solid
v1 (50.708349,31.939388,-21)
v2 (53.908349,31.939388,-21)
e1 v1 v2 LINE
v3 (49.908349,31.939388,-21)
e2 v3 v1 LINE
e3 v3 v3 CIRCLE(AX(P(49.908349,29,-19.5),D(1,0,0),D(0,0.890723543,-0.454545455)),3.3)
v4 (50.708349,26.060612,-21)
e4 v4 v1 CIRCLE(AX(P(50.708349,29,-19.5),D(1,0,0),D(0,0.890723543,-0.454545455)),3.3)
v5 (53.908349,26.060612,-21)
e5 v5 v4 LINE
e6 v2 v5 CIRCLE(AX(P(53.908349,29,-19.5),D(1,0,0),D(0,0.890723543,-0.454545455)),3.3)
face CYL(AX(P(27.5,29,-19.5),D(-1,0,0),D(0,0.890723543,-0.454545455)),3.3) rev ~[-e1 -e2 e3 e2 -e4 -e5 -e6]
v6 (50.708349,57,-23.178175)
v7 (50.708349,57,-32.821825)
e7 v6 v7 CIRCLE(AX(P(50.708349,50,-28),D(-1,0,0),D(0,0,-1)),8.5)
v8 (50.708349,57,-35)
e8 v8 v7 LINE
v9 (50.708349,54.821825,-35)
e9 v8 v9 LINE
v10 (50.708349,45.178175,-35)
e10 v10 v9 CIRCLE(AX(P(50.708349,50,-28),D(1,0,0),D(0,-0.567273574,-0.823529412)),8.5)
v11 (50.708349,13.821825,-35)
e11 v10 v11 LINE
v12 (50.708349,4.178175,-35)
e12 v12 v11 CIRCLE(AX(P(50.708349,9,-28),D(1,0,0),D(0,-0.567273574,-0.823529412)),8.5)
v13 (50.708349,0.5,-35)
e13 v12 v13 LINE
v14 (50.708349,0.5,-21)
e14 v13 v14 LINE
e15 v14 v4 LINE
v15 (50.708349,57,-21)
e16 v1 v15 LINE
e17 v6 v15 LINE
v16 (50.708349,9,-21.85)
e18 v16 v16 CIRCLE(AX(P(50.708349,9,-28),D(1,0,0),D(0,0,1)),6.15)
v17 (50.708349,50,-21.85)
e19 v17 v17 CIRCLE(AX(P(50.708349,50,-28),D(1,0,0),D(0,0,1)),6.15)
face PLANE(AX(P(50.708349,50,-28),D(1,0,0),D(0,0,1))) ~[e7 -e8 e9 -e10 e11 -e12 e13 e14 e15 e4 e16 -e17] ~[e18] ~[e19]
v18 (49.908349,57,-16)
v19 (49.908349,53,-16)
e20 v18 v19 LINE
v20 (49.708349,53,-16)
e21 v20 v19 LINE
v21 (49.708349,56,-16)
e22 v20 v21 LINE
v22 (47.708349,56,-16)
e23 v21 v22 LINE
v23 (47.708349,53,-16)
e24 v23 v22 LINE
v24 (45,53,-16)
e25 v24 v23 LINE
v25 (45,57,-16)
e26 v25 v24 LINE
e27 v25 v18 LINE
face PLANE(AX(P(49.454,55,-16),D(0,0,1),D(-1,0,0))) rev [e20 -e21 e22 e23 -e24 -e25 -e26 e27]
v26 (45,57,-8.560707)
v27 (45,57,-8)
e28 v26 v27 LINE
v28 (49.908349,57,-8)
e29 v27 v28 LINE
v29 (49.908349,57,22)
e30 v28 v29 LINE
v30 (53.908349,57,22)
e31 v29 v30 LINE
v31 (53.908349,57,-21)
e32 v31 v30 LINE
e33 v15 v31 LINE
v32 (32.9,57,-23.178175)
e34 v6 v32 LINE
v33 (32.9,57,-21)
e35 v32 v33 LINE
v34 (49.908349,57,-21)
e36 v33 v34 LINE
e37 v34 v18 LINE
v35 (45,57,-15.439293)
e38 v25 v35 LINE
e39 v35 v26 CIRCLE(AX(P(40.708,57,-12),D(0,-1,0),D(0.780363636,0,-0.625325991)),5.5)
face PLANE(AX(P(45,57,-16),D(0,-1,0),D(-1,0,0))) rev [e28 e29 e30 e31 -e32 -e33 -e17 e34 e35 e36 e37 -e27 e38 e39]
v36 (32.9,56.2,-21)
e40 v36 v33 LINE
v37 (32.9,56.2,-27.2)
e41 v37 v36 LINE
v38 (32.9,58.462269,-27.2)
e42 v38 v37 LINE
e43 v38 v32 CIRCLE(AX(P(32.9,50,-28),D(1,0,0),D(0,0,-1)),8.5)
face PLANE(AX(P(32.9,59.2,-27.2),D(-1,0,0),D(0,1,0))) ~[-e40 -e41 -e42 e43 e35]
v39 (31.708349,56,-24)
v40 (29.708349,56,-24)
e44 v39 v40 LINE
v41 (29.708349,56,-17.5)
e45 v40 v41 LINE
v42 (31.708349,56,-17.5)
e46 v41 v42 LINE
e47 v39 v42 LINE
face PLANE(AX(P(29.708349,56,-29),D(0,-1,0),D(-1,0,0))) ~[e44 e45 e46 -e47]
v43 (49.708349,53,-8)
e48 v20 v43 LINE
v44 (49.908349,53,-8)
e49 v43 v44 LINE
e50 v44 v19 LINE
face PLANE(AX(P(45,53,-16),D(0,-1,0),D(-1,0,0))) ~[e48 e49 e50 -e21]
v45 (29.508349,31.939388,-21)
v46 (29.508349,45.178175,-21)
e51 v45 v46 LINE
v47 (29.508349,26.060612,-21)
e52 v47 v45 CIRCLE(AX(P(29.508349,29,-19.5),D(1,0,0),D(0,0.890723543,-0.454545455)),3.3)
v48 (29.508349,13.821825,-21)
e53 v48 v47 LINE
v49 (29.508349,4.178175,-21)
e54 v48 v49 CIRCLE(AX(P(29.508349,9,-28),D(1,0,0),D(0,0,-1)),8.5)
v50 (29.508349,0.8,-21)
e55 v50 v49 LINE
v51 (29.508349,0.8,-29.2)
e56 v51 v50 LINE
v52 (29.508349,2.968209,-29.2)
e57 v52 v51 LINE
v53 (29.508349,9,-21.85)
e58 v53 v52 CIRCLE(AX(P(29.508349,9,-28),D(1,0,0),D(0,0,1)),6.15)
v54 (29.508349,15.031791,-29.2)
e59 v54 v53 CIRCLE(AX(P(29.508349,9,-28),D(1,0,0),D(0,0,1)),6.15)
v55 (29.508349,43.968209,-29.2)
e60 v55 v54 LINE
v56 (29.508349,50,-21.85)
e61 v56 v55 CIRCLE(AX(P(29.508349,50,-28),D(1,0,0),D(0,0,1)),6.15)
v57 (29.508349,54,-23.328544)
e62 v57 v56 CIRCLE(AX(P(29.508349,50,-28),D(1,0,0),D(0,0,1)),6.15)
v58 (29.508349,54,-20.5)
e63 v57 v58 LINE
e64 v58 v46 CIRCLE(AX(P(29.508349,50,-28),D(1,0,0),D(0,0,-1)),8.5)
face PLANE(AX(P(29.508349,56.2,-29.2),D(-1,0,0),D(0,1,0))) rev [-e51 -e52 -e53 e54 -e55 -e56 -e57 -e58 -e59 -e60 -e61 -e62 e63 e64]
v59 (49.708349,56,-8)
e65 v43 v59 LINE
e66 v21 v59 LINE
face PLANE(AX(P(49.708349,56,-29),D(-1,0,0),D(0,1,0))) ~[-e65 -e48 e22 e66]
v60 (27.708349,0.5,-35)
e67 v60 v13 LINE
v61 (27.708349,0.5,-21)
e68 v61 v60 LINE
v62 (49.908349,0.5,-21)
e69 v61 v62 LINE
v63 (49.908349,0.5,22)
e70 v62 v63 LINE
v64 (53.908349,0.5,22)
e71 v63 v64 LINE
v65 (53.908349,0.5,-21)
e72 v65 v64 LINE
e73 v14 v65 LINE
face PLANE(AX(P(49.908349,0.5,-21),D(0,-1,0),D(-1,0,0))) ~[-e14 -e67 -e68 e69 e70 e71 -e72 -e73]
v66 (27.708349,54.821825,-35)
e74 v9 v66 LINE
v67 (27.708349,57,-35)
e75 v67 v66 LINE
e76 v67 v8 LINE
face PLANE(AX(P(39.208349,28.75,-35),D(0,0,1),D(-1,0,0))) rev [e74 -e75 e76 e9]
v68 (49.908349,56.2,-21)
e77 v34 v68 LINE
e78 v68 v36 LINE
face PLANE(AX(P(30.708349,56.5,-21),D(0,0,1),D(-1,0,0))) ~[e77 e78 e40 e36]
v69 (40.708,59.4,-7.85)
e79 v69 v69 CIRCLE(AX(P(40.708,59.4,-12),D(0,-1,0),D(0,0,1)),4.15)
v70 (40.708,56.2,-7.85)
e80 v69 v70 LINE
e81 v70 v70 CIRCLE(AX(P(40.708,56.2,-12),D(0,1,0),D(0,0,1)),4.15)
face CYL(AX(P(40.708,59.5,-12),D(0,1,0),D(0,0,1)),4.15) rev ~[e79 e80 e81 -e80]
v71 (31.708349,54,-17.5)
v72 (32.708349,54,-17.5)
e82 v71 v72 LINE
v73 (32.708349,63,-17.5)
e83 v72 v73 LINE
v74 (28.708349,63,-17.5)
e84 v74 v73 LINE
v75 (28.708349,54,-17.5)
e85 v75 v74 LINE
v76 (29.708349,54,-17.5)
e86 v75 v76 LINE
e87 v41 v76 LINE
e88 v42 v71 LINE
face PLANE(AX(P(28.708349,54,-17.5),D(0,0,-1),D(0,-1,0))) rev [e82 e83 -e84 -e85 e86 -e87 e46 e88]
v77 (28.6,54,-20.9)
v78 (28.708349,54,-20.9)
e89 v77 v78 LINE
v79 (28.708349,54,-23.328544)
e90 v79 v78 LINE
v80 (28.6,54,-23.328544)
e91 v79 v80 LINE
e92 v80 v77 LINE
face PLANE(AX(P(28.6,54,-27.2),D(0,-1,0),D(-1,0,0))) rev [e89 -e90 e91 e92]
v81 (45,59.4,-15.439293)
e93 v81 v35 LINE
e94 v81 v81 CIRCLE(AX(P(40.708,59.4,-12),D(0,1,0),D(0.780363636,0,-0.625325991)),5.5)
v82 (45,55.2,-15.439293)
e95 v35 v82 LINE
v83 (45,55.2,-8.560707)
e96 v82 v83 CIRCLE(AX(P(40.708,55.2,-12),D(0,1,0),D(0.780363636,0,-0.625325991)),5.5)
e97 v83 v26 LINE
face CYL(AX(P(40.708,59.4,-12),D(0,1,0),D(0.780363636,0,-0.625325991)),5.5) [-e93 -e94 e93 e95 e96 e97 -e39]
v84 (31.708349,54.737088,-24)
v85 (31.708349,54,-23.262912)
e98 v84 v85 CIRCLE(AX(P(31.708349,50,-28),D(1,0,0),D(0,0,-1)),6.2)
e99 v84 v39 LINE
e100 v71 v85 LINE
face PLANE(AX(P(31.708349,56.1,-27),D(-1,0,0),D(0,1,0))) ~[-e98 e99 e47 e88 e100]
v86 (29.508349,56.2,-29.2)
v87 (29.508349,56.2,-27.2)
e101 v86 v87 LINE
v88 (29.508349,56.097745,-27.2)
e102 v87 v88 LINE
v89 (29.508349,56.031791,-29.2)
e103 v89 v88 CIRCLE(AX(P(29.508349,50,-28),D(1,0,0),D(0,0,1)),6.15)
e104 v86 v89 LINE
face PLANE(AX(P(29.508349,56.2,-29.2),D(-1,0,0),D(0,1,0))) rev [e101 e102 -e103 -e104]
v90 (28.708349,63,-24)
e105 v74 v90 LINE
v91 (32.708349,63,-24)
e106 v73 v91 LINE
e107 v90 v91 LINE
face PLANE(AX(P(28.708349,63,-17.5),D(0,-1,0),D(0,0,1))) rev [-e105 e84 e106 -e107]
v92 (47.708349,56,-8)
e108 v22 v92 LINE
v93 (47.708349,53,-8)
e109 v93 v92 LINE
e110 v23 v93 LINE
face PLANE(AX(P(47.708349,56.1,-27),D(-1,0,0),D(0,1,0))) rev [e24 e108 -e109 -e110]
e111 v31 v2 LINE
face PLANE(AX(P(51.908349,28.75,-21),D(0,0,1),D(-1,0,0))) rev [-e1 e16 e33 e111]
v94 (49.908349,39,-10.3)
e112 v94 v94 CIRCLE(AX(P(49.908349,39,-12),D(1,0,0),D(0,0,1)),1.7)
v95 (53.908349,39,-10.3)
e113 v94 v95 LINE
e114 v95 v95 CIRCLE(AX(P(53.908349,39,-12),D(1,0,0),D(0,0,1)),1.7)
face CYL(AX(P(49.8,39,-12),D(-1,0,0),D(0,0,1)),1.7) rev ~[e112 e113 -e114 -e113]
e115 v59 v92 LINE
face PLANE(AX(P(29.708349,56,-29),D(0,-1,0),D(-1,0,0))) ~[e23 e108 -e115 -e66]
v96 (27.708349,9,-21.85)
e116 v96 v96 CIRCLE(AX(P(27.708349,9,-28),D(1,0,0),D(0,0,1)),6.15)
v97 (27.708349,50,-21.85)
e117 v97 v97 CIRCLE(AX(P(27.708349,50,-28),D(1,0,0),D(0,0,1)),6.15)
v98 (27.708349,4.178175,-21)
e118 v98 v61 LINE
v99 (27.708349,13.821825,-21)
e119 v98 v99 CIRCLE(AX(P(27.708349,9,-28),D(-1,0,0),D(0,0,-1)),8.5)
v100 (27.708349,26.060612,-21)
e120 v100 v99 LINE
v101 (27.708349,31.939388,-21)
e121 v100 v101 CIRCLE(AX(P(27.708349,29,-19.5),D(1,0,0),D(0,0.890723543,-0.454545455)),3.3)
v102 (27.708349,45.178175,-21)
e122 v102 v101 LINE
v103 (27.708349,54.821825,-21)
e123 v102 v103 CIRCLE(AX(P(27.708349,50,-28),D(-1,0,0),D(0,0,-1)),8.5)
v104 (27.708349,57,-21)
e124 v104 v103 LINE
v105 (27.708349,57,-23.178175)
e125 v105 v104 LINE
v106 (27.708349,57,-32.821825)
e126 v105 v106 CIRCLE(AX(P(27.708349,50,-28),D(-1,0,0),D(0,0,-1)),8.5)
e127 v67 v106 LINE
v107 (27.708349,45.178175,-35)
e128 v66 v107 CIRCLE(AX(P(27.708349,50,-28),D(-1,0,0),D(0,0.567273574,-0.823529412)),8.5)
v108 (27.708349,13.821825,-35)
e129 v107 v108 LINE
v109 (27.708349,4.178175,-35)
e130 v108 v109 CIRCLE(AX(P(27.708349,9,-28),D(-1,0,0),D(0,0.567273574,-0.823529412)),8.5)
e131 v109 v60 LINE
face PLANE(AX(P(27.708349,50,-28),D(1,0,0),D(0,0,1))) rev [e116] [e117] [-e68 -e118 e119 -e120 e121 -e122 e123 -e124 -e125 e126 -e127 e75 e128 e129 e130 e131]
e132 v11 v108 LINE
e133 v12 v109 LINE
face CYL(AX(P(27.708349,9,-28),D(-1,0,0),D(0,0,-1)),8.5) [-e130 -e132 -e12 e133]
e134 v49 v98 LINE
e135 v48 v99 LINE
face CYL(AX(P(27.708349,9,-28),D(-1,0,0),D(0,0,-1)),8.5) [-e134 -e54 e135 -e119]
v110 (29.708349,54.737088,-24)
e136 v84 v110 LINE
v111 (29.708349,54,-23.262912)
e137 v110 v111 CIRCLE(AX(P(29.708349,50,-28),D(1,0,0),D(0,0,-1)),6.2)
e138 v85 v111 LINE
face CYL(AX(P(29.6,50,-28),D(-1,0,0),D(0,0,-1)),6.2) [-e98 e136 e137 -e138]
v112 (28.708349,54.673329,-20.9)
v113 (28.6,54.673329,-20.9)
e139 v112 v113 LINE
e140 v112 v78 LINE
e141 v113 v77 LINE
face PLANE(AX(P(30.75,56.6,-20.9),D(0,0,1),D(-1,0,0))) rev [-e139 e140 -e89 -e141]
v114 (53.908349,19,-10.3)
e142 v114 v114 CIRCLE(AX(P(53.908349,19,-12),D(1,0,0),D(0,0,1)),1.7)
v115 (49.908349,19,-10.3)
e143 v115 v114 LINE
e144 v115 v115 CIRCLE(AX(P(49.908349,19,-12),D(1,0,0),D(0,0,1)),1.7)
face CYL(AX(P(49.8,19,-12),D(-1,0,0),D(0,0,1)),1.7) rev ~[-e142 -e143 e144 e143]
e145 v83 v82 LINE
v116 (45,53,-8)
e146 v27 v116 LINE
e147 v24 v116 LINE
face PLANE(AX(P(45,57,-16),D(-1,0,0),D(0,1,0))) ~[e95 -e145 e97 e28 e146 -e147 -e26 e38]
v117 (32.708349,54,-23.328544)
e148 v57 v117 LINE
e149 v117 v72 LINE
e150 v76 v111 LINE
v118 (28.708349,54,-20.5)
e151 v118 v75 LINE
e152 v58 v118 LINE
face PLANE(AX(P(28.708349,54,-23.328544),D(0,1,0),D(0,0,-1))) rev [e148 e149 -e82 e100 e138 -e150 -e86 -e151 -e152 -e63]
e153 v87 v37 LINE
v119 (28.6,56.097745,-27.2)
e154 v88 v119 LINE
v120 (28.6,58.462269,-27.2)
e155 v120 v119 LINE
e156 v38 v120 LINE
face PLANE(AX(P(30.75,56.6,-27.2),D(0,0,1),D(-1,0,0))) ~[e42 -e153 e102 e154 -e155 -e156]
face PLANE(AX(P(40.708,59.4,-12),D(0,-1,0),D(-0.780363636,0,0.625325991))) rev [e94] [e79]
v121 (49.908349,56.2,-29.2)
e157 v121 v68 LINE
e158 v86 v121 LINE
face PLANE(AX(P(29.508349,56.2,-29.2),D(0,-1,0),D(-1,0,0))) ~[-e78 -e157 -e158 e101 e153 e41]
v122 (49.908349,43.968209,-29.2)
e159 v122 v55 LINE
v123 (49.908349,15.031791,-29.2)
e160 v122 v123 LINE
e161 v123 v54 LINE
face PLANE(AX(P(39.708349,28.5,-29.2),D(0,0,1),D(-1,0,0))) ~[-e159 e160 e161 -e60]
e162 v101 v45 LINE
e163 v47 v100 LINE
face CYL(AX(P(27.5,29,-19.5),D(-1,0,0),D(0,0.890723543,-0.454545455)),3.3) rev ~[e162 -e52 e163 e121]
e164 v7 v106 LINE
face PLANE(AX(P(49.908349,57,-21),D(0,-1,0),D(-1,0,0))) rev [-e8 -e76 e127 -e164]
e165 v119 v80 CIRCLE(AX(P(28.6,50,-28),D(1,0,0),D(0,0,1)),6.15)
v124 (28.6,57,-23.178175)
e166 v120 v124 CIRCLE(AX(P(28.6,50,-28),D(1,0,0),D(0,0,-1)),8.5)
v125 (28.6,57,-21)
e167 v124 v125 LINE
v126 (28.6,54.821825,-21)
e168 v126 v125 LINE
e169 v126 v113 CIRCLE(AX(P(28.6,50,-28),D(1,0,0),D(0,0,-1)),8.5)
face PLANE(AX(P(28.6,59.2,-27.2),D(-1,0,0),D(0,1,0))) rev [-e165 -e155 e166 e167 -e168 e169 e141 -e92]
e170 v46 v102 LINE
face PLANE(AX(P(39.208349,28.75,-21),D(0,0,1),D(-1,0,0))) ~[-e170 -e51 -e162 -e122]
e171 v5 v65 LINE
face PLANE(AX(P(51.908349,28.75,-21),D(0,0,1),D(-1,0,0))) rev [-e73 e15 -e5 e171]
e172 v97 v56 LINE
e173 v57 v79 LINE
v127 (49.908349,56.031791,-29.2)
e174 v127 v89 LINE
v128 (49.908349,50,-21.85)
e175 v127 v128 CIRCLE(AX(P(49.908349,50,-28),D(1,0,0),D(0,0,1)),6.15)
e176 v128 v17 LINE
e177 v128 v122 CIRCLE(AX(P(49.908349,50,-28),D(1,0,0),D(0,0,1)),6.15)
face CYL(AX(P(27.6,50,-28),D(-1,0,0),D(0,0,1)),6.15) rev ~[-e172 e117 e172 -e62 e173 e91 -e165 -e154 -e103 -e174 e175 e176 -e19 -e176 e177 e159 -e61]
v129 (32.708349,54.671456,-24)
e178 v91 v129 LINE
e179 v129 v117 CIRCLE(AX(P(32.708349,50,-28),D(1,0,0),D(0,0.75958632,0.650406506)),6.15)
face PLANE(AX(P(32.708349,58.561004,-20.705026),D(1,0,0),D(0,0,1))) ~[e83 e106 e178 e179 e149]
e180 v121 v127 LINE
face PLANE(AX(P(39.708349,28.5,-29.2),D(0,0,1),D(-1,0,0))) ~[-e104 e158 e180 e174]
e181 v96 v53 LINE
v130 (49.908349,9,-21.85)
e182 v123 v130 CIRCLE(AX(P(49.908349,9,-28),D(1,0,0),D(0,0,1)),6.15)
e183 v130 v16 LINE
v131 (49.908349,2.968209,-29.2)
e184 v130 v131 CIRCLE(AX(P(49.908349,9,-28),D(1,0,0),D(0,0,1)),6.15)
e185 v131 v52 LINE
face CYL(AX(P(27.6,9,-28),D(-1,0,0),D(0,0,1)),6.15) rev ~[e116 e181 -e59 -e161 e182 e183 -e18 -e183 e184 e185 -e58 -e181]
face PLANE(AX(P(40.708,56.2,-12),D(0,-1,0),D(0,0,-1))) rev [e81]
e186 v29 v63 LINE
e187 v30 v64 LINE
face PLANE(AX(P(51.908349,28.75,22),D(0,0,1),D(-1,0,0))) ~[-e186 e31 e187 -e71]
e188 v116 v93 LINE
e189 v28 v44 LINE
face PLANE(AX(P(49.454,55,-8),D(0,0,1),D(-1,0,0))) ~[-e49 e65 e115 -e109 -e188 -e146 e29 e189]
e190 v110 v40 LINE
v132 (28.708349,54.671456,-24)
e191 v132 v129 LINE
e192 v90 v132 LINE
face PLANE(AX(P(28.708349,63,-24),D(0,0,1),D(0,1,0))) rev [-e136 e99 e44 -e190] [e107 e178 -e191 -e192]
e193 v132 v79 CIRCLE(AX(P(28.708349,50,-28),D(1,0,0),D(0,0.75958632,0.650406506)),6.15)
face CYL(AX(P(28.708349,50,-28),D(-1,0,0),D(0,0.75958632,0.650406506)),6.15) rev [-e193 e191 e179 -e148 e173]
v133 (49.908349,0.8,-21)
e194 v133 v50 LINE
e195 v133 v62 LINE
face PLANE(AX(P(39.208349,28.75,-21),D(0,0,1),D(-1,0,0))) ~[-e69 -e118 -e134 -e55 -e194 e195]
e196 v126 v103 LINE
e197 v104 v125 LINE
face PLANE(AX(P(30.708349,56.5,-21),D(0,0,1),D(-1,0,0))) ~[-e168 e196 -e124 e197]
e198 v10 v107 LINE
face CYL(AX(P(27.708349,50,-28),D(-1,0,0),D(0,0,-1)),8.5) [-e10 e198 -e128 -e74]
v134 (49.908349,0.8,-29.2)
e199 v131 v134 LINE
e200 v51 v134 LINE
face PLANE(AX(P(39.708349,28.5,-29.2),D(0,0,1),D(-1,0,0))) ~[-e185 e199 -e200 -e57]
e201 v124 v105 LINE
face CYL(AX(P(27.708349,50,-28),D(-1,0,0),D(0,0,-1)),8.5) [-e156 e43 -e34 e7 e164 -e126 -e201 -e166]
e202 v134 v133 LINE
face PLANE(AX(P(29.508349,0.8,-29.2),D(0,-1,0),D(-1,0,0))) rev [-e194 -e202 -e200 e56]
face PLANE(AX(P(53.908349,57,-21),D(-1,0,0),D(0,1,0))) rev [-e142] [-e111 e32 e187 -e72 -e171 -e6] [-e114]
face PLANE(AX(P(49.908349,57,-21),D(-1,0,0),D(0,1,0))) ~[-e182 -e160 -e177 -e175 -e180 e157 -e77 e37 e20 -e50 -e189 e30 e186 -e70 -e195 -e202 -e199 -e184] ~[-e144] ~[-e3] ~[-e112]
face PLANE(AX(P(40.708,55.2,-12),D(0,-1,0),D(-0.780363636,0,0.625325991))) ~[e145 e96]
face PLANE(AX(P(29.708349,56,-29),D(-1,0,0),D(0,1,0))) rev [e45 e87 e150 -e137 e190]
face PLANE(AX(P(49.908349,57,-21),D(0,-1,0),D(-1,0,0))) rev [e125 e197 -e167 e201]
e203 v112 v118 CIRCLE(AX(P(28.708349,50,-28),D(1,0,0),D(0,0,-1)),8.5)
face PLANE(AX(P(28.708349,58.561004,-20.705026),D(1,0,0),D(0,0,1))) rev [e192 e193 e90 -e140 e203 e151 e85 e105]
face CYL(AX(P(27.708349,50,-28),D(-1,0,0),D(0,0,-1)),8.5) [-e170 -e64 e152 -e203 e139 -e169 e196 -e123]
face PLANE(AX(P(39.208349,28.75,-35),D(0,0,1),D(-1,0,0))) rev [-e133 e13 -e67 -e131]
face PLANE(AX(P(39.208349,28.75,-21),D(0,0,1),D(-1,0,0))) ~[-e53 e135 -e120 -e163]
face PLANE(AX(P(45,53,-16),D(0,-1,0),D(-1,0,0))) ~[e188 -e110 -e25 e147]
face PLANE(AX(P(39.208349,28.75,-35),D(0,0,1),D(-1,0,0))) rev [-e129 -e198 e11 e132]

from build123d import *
from build123d.topology import SkipClean

# Parameters (mm, degrees)
GUIDE_CARRIER_BODY_SKETCH_W                    = 23
GUIDE_CARRIER_BODY_SKETCH_H                    = 56.5
GUIDE_CARRIER_BODY_DEPTH                       = 14
REAR_CLAMP_WALL_SKETCH_W                       = 4
REAR_CLAMP_WALL_SKETCH_H                       = 56.5
REAR_CLAMP_WALL_DEPTH                          = 43
GUIDE_BUSH_BOSS_1_SKETCH_R                     = 8.5
GUIDE_BUSH_BOSS_1_DEPTH                        = 23
GUIDE_BUSH_BOSS_2_SKETCH_R                     = 8.5
GUIDE_BUSH_BOSS_2_DEPTH                        = 23
STEEL_TUBE_CAVITY_SKETCH_W                     = 20.4
STEEL_TUBE_CAVITY_SKETCH_H                     = 55.4
STEEL_TUBE_CAVITY_DEPTH                        = 40.4
GUIDE_BUSH_BORE_1_SKETCH_R                     = 6.15
GUIDE_BUSH_BORE_1_DEPTH                        = 23.3
GUIDE_BUSH_BORE_2_SKETCH_R                     = 6.15
GUIDE_BUSH_BORE_2_DEPTH                        = 23.3
CLAMP_BOLT_CLEARANCE_1_SKETCH_R                = 1.7
CLAMP_BOLT_CLEARANCE_1_DEPTH                   = 4.3
CLAMP_BOLT_CLEARANCE_2_SKETCH_R                = 1.7
CLAMP_BOLT_CLEARANCE_2_DEPTH                   = 4.3
TRAVEL_FLAG_ROOT_SKETCH_W                      = 4
TRAVEL_FLAG_ROOT_SKETCH_H                      = 5
TRAVEL_FLAG_ROOT_DEPTH                         = 6
MAGNET_HOLDER_BRIDGE_SKETCH_W                  = 8.908
MAGNET_HOLDER_BRIDGE_SKETCH_H                  = 4
MAGNET_HOLDER_BRIDGE_DEPTH                     = 8
MAGNET_HOLDER_BOSS_SKETCH_R                    = 5.5
MAGNET_HOLDER_BOSS_DEPTH                       = 4.2
MAGNET_SEATING_POCKET_SKETCH_R                 = 4.15
MAGNET_SEATING_POCKET_DEPTH                    = 3.3
STEEL_CORE_CLEARANCE_TOOL_STEEL_TUBE_2_W       = 20
STEEL_CORE_CLEARANCE_TOOL_STEEL_TUBE_2_H       = 55
STEEL_CORE_CLEARANCE_TOOL_STEEL_TUBE_STO_DEPTH = 40
STEEL_CORE_CLEARANCE_TOOL_TUBE_INTER_2_W       = 16
STEEL_CORE_CLEARANCE_TOOL_TUBE_INTER_2_H       = 55.2
STEEL_CORE_CLEARANCE_TOOL_TUBE_INTERIOR_DEPTH  = 36
STEEL_CORE_CLEARANCE_TOOL_GUIDE_BUSH_2_R       = 6.2
STEEL_CORE_CLEARANCE_TOOL_GUIDE_BUSH_CLE_DEPTH = 20.3
STEEL_CORE_CLEARANCE_TOOL_GUIDE_BUSH_4_R       = 6.2
STEEL_CORE_CLEARANCE_TOOL_GUIDE_BUSH_3_DEPTH   = 20.3
STEEL_CORE_CLEARANCE_TOOL_SCREW_THRO_2_R       = 3.3
STEEL_CORE_CLEARANCE_TOOL_SCREW_THROUGH_DEPTH  = 20.3
STEEL_CORE_CLEARANCE_TOOL_SPRING_PIN_2_R       = 1.7
STEEL_CORE_CLEARANCE_TOOL_SPRING_PIN_CLE_DEPTH = 2.2
STEEL_CORE_CLEARANCE_TOOL_SPRING_PIN_4_R       = 1.7
STEEL_CORE_CLEARANCE_TOOL_SPRING_PIN_3_DEPTH   = 2.2
STEEL_CORE_CLEARANCE_TOOL_SPRING_PIN_6_R       = 1.7
STEEL_CORE_CLEARANCE_TOOL_SPRING_PIN_5_DEPTH   = 2.2
STEEL_CORE_CLEARANCE_TOOL_CLAMP_BOLT_2_R       = 1.7
STEEL_CORE_CLEARANCE_TOOL_CLAMP_BOLT_CLE_DEPTH = 2.3
STEEL_CORE_CLEARANCE_TOOL_CLAMP_BOLT_4_R       = 1.7
STEEL_CORE_CLEARANCE_TOOL_CLAMP_BOLT_3_DEPTH   = 2.3
SCREW_FULL_TRAVEL_CLEARANCE_SKETCH_R           = 3.3
SCREW_FULL_TRAVEL_CLEARANCE_DEPTH              = 26.7
TRAVEL_FLAG_RELIEF_SKETCH_W                    = 4.3
TRAVEL_FLAG_RELIEF_SKETCH_H                    = 5.2
TRAVEL_FLAG_RELIEF_DEPTH                       = 6.3
CLEARANCED_TRAVEL_STOP_FLAG_DEPTH              = 4
FINAL_CORE_CLEARANCE_TOOL_STEEL_TUBE_2_W       = 20
FINAL_CORE_CLEARANCE_TOOL_STEEL_TUBE_2_H       = 55
FINAL_CORE_CLEARANCE_TOOL_STEEL_TUBE_STO_DEPTH = 40
FINAL_CORE_CLEARANCE_TOOL_TUBE_INTER_2_W       = 16
FINAL_CORE_CLEARANCE_TOOL_TUBE_INTER_2_H       = 55.2
FINAL_CORE_CLEARANCE_TOOL_TUBE_INTERIOR_DEPTH  = 36
FINAL_CORE_CLEARANCE_TOOL_GUIDE_BUSH_2_R       = 6.2
FINAL_CORE_CLEARANCE_TOOL_GUIDE_BUSH_CLE_DEPTH = 20.3
FINAL_CORE_CLEARANCE_TOOL_GUIDE_BUSH_4_R       = 6.2
FINAL_CORE_CLEARANCE_TOOL_GUIDE_BUSH_3_DEPTH   = 20.3
FINAL_CORE_CLEARANCE_TOOL_SCREW_THRO_2_R       = 3.3
FINAL_CORE_CLEARANCE_TOOL_SCREW_THROUGH_DEPTH  = 20.3
FINAL_CORE_CLEARANCE_TOOL_SPRING_PIN_2_R       = 1.7
FINAL_CORE_CLEARANCE_TOOL_SPRING_PIN_CLE_DEPTH = 2.2
FINAL_CORE_CLEARANCE_TOOL_SPRING_PIN_4_R       = 1.7
FINAL_CORE_CLEARANCE_TOOL_SPRING_PIN_3_DEPTH   = 2.2
FINAL_CORE_CLEARANCE_TOOL_SPRING_PIN_6_R       = 1.7
FINAL_CORE_CLEARANCE_TOOL_SPRING_PIN_5_DEPTH   = 2.2
FINAL_CORE_CLEARANCE_TOOL_CLAMP_BOLT_2_R       = 1.7
FINAL_CORE_CLEARANCE_TOOL_CLAMP_BOLT_CLE_DEPTH = 2.3
FINAL_CORE_CLEARANCE_TOOL_CLAMP_BOLT_4_R       = 1.7
FINAL_CORE_CLEARANCE_TOOL_CLAMP_BOLT_3_DEPTH   = 2.3


with BuildPart() as part:
    # Guide carrier body sketch → Guide carrier body (new body)
    with BuildSketch(Plane.XY.offset(-35)):
        with Locations((39.208348754, -28.75)):
            Rectangle(GUIDE_CARRIER_BODY_SKETCH_W, GUIDE_CARRIER_BODY_SKETCH_H)
    extrude(amount=GUIDE_CARRIER_BODY_DEPTH)

    # Rear clamp wall sketch → Rear clamp wall (add)
    with BuildSketch(Plane.XY.offset(-21)):
        with Locations((51.908348754, -28.75)):
            Rectangle(REAR_CLAMP_WALL_SKETCH_W, REAR_CLAMP_WALL_SKETCH_H)
    extrude(amount=REAR_CLAMP_WALL_DEPTH)

    # Guide bush boss 1 sketch → Guide bush boss 1 (add)
    with BuildSketch(Plane(origin=(27.708348754, 0, 0), x_dir=(0, 0, -1), z_dir=(1, 0, 0))):
        with Locations((28, -9)):
            Circle(GUIDE_BUSH_BOSS_1_SKETCH_R)
    extrude(amount=GUIDE_BUSH_BOSS_1_DEPTH)

    # Guide bush boss 2 sketch → Guide bush boss 2 (add)
    with BuildSketch(Plane(origin=(27.708348754, 0, 0), x_dir=(0, 0, -1), z_dir=(1, 0, 0))):
        with Locations((28, -50)):
            Circle(GUIDE_BUSH_BOSS_2_SKETCH_R)
    extrude(amount=GUIDE_BUSH_BOSS_2_DEPTH)

    # Steel tube cavity sketch → Steel tube cavity (cut)
    with BuildSketch(Plane.XY.offset(-29.2)):
        with Locations((39.708348754, -28.5)):
            Rectangle(STEEL_TUBE_CAVITY_SKETCH_W, STEEL_TUBE_CAVITY_SKETCH_H)
    extrude(amount=STEEL_TUBE_CAVITY_DEPTH, mode=Mode.SUBTRACT)

    # Guide bush bore 1 sketch → Guide bush bore 1 (cut)
    with BuildSketch(Plane(origin=(27.6, 0, 0), x_dir=(0, 0, -1), z_dir=(1, 0, 0))):
        with Locations((28, -9)):
            Circle(GUIDE_BUSH_BORE_1_SKETCH_R)
    extrude(amount=GUIDE_BUSH_BORE_1_DEPTH, mode=Mode.SUBTRACT)

    # Guide bush bore 2 sketch → Guide bush bore 2 (cut)
    with BuildSketch(Plane(origin=(27.6, 0, 0), x_dir=(0, 0, -1), z_dir=(1, 0, 0))):
        with Locations((28, -50)):
            Circle(GUIDE_BUSH_BORE_2_SKETCH_R)
    extrude(amount=GUIDE_BUSH_BORE_2_DEPTH, mode=Mode.SUBTRACT)

    # Clamp bolt clearance 1 sketch → Clamp bolt clearance 1 (cut)
    with BuildSketch(Plane(origin=(49.8, 0, 0), x_dir=(0, 0, -1), z_dir=(1, 0, 0))):
        with Locations((12, -19)):
            Circle(CLAMP_BOLT_CLEARANCE_1_SKETCH_R)
    extrude(amount=CLAMP_BOLT_CLEARANCE_1_DEPTH, mode=Mode.SUBTRACT)

    # Clamp bolt clearance 2 sketch → Clamp bolt clearance 2 (cut)
    with BuildSketch(Plane(origin=(49.8, 0, 0), x_dir=(0, 0, -1), z_dir=(1, 0, 0))):
        with Locations((12, -39)):
            Circle(CLAMP_BOLT_CLEARANCE_2_SKETCH_R)
    extrude(amount=CLAMP_BOLT_CLEARANCE_2_DEPTH, mode=Mode.SUBTRACT)

    # Travel flag root sketch → Travel flag root (add)
    with BuildSketch(Plane.XY.offset(-27)):
        with Locations((30.708348754, -56.5)):
            Rectangle(TRAVEL_FLAG_ROOT_SKETCH_W, TRAVEL_FLAG_ROOT_SKETCH_H)
    extrude(amount=TRAVEL_FLAG_ROOT_DEPTH)

    # Magnet holder bridge sketch → Magnet holder bridge (add)
    with BuildSketch(Plane.XY.offset(-16)):
        with Locations((49.454, -55)):
            Rectangle(MAGNET_HOLDER_BRIDGE_SKETCH_W, MAGNET_HOLDER_BRIDGE_SKETCH_H)
    extrude(amount=MAGNET_HOLDER_BRIDGE_DEPTH)

    # Magnet holder boss sketch → Magnet holder boss (add)
    with BuildSketch(Plane(origin=(0, -59.4, 0), x_dir=(1, 0, 0), z_dir=(0, 1, 0))):
        with Locations((40.708, 12)):
            Circle(MAGNET_HOLDER_BOSS_SKETCH_R)
    extrude(amount=MAGNET_HOLDER_BOSS_DEPTH)

    # Magnet seating pocket sketch → Magnet seating pocket (cut)
    with BuildSketch(Plane(origin=(0, -59.5, 0), x_dir=(1, 0, 0), z_dir=(0, 1, 0))):
        with Locations((40.708, 12)):
            Circle(MAGNET_SEATING_POCKET_SKETCH_R)
    extrude(amount=MAGNET_SEATING_POCKET_DEPTH, mode=Mode.SUBTRACT)


with BuildPart() as body_2:
    # Steel core clearance tool Steel tube 2 → Steel core clearance tool Steel tube sto (new body)
    with BuildSketch(Plane.XY.offset(-29)):
        with Locations((39.708348754, -28.5)):
            Rectangle(STEEL_CORE_CLEARANCE_TOOL_STEEL_TUBE_2_W, STEEL_CORE_CLEARANCE_TOOL_STEEL_TUBE_2_H)
    extrude(amount=STEEL_CORE_CLEARANCE_TOOL_STEEL_TUBE_STO_DEPTH)

    # Steel core clearance tool Tube inter 2 → Steel core clearance tool Tube interior (cut)
    with BuildSketch(Plane.XY.offset(-27)):
        with Locations((39.708348754, -28.5)):
            Rectangle(STEEL_CORE_CLEARANCE_TOOL_TUBE_INTER_2_W, STEEL_CORE_CLEARANCE_TOOL_TUBE_INTER_2_H)
    extrude(amount=STEEL_CORE_CLEARANCE_TOOL_TUBE_INTERIOR_DEPTH, mode=Mode.SUBTRACT)

    # Steel core clearance tool Guide bush 2 → Steel core clearance tool Guide bush cle (cut)
    with BuildSketch(Plane(origin=(29.6, 0, 0), x_dir=(0, 0, -1), z_dir=(1, 0, 0))):
        with Locations((28, -9)):
            Circle(STEEL_CORE_CLEARANCE_TOOL_GUIDE_BUSH_2_R)
    extrude(amount=STEEL_CORE_CLEARANCE_TOOL_GUIDE_BUSH_CLE_DEPTH, mode=Mode.SUBTRACT)

    # Steel core clearance tool Guide bush 4 → Steel core clearance tool Guide bush 3 (cut)
    with BuildSketch(Plane(origin=(29.6, 0, 0), x_dir=(0, 0, -1), z_dir=(1, 0, 0))):
        with Locations((28, -50)):
            Circle(STEEL_CORE_CLEARANCE_TOOL_GUIDE_BUSH_4_R)
    extrude(amount=STEEL_CORE_CLEARANCE_TOOL_GUIDE_BUSH_3_DEPTH, mode=Mode.SUBTRACT)

    # Steel core clearance tool Screw thro 2 → Steel core clearance tool Screw through (cut)
    with BuildSketch(Plane(origin=(29.6, 0, 0), x_dir=(0, 0, -1), z_dir=(1, 0, 0))):
        with Locations((19.5, -29)):
            Circle(STEEL_CORE_CLEARANCE_TOOL_SCREW_THRO_2_R)
    extrude(amount=STEEL_CORE_CLEARANCE_TOOL_SCREW_THROUGH_DEPTH, mode=Mode.SUBTRACT)

    # Steel core clearance tool Spring pin 2 → Steel core clearance tool Spring pin cle (cut)
    with BuildSketch(Plane.XY.offset(8.9)):
        with Locations((35.708348754, -12)):
            Circle(STEEL_CORE_CLEARANCE_TOOL_SPRING_PIN_2_R)
    extrude(amount=STEEL_CORE_CLEARANCE_TOOL_SPRING_PIN_CLE_DEPTH, mode=Mode.SUBTRACT)

    # Steel core clearance tool Spring pin 4 → Steel core clearance tool Spring pin 3 (cut)
    with BuildSketch(Plane.XY.offset(8.9)):
        with Locations((35.708348754, -29)):
            Circle(STEEL_CORE_CLEARANCE_TOOL_SPRING_PIN_4_R)
    extrude(amount=STEEL_CORE_CLEARANCE_TOOL_SPRING_PIN_3_DEPTH, mode=Mode.SUBTRACT)

    # Steel core clearance tool Spring pin 6 → Steel core clearance tool Spring pin 5 (cut)
    with BuildSketch(Plane.XY.offset(8.9)):
        with Locations((35.708348754, -46)):
            Circle(STEEL_CORE_CLEARANCE_TOOL_SPRING_PIN_6_R)
    extrude(amount=STEEL_CORE_CLEARANCE_TOOL_SPRING_PIN_5_DEPTH, mode=Mode.SUBTRACT)

    # Steel core clearance tool Clamp bolt 2 → Steel core clearance tool Clamp bolt cle (cut)
    with BuildSketch(Plane(origin=(47.6, 0, 0), x_dir=(0, 0, -1), z_dir=(1, 0, 0))):
        with Locations((12, -19)):
            Circle(STEEL_CORE_CLEARANCE_TOOL_CLAMP_BOLT_2_R)
    extrude(amount=STEEL_CORE_CLEARANCE_TOOL_CLAMP_BOLT_CLE_DEPTH, mode=Mode.SUBTRACT)

    # Steel core clearance tool Clamp bolt 4 → Steel core clearance tool Clamp bolt 3 (cut)
    with BuildSketch(Plane(origin=(47.6, 0, 0), x_dir=(0, 0, -1), z_dir=(1, 0, 0))):
        with Locations((12, -39)):
            Circle(STEEL_CORE_CLEARANCE_TOOL_CLAMP_BOLT_4_R)
    extrude(amount=STEEL_CORE_CLEARANCE_TOOL_CLAMP_BOLT_3_DEPTH, mode=Mode.SUBTRACT)


with BuildPart() as part_1:
    add(part.part)

    # Combine1: cut body 2
    add(body_2.part, mode=Mode.SUBTRACT)

    # Screw full travel clearance sketch → Screw full travel clearance (cut)
    with BuildSketch(Plane(origin=(27.5, 0, 0), x_dir=(0, 0, -1), z_dir=(1, 0, 0))):
        with Locations((19.5, -29)):
            Circle(SCREW_FULL_TRAVEL_CLEARANCE_SKETCH_R)
    extrude(amount=SCREW_FULL_TRAVEL_CLEARANCE_DEPTH, mode=Mode.SUBTRACT)

    # Travel flag relief sketch → Travel flag relief (cut)
    with BuildSketch(Plane.XY.offset(-27.2)):
        with Locations((30.75, -56.6)):
            Rectangle(TRAVEL_FLAG_RELIEF_SKETCH_W, TRAVEL_FLAG_RELIEF_SKETCH_H)
    extrude(amount=TRAVEL_FLAG_RELIEF_DEPTH, mode=Mode.SUBTRACT)

    # Clearanced travel flag sketch → Clearanced travel stop flag (add)
    with SkipClean():  # the faces are left unmerged after this step: merging them gives an invalid solid
        with BuildSketch(Plane(origin=(28.708348754, 0, 0), x_dir=(0, 0, -1), z_dir=(1, 0, 0))):
            with BuildLine():
                Line((17.5, -63), (24, -63))
                Line((24, -63), (24, -54.671455876))
                ThreePointArc((24, -54.671455876), (23.651293296, -54.348706704), (23.328544124, -54))
                Line((23.328544124, -54), (17.5, -54))
                Line((17.5, -54), (17.5, -63))
            make_face()
        extrude(amount=CLEARANCED_TRAVEL_STOP_FLAG_DEPTH)


with BuildPart() as body_2_2:
    # Final core clearance tool Steel tube 2 → Final core clearance tool Steel tube sto (new body)
    with BuildSketch(Plane.XY.offset(-29)):
        with Locations((39.708348754, -28.5)):
            Rectangle(FINAL_CORE_CLEARANCE_TOOL_STEEL_TUBE_2_W, FINAL_CORE_CLEARANCE_TOOL_STEEL_TUBE_2_H)
    extrude(amount=FINAL_CORE_CLEARANCE_TOOL_STEEL_TUBE_STO_DEPTH)

    # Final core clearance tool Tube inter 2 → Final core clearance tool Tube interior (cut)
    with BuildSketch(Plane.XY.offset(-27)):
        with Locations((39.708348754, -28.5)):
            Rectangle(FINAL_CORE_CLEARANCE_TOOL_TUBE_INTER_2_W, FINAL_CORE_CLEARANCE_TOOL_TUBE_INTER_2_H)
    extrude(amount=FINAL_CORE_CLEARANCE_TOOL_TUBE_INTERIOR_DEPTH, mode=Mode.SUBTRACT)

    # Final core clearance tool Guide bush 2 → Final core clearance tool Guide bush cle (cut)
    with BuildSketch(Plane(origin=(29.6, 0, 0), x_dir=(0, 0, -1), z_dir=(1, 0, 0))):
        with Locations((28, -9)):
            Circle(FINAL_CORE_CLEARANCE_TOOL_GUIDE_BUSH_2_R)
    extrude(amount=FINAL_CORE_CLEARANCE_TOOL_GUIDE_BUSH_CLE_DEPTH, mode=Mode.SUBTRACT)

    # Final core clearance tool Guide bush 4 → Final core clearance tool Guide bush 3 (cut)
    with BuildSketch(Plane(origin=(29.6, 0, 0), x_dir=(0, 0, -1), z_dir=(1, 0, 0))):
        with Locations((28, -50)):
            Circle(FINAL_CORE_CLEARANCE_TOOL_GUIDE_BUSH_4_R)
    extrude(amount=FINAL_CORE_CLEARANCE_TOOL_GUIDE_BUSH_3_DEPTH, mode=Mode.SUBTRACT)

    # Final core clearance tool Screw thro 2 → Final core clearance tool Screw through (cut)
    with BuildSketch(Plane(origin=(29.6, 0, 0), x_dir=(0, 0, -1), z_dir=(1, 0, 0))):
        with Locations((19.5, -29)):
            Circle(FINAL_CORE_CLEARANCE_TOOL_SCREW_THRO_2_R)
    extrude(amount=FINAL_CORE_CLEARANCE_TOOL_SCREW_THROUGH_DEPTH, mode=Mode.SUBTRACT)

    # Final core clearance tool Spring pin 2 → Final core clearance tool Spring pin cle (cut)
    with BuildSketch(Plane.XY.offset(8.9)):
        with Locations((35.708348754, -12)):
            Circle(FINAL_CORE_CLEARANCE_TOOL_SPRING_PIN_2_R)
    extrude(amount=FINAL_CORE_CLEARANCE_TOOL_SPRING_PIN_CLE_DEPTH, mode=Mode.SUBTRACT)

    # Final core clearance tool Spring pin 4 → Final core clearance tool Spring pin 3 (cut)
    with BuildSketch(Plane.XY.offset(8.9)):
        with Locations((35.708348754, -29)):
            Circle(FINAL_CORE_CLEARANCE_TOOL_SPRING_PIN_4_R)
    extrude(amount=FINAL_CORE_CLEARANCE_TOOL_SPRING_PIN_3_DEPTH, mode=Mode.SUBTRACT)

    # Final core clearance tool Spring pin 6 → Final core clearance tool Spring pin 5 (cut)
    with BuildSketch(Plane.XY.offset(8.9)):
        with Locations((35.708348754, -46)):
            Circle(FINAL_CORE_CLEARANCE_TOOL_SPRING_PIN_6_R)
    extrude(amount=FINAL_CORE_CLEARANCE_TOOL_SPRING_PIN_5_DEPTH, mode=Mode.SUBTRACT)

    # Final core clearance tool Clamp bolt 2 → Final core clearance tool Clamp bolt cle (cut)
    with BuildSketch(Plane(origin=(47.6, 0, 0), x_dir=(0, 0, -1), z_dir=(1, 0, 0))):
        with Locations((12, -19)):
            Circle(FINAL_CORE_CLEARANCE_TOOL_CLAMP_BOLT_2_R)
    extrude(amount=FINAL_CORE_CLEARANCE_TOOL_CLAMP_BOLT_CLE_DEPTH, mode=Mode.SUBTRACT)

    # Final core clearance tool Clamp bolt 4 → Final core clearance tool Clamp bolt 3 (cut)
    with BuildSketch(Plane(origin=(47.6, 0, 0), x_dir=(0, 0, -1), z_dir=(1, 0, 0))):
        with Locations((12, -39)):
            Circle(FINAL_CORE_CLEARANCE_TOOL_CLAMP_BOLT_4_R)
    extrude(amount=FINAL_CORE_CLEARANCE_TOOL_CLAMP_BOLT_3_DEPTH, mode=Mode.SUBTRACT)


with BuildPart() as part_2:
    add(part_1.part)

    # Combine2: cut body 2 2
    add(body_2_2.part, mode=Mode.SUBTRACT)


with BuildPart() as body_2_3:
    # Mirror1: mirrored copy
    add(part_2.part.mirror(Plane(origin=(0, 0, 0), x_dir=(0, 0, 1), z_dir=(0, -1, 0))))


solid = body_2_3.part
